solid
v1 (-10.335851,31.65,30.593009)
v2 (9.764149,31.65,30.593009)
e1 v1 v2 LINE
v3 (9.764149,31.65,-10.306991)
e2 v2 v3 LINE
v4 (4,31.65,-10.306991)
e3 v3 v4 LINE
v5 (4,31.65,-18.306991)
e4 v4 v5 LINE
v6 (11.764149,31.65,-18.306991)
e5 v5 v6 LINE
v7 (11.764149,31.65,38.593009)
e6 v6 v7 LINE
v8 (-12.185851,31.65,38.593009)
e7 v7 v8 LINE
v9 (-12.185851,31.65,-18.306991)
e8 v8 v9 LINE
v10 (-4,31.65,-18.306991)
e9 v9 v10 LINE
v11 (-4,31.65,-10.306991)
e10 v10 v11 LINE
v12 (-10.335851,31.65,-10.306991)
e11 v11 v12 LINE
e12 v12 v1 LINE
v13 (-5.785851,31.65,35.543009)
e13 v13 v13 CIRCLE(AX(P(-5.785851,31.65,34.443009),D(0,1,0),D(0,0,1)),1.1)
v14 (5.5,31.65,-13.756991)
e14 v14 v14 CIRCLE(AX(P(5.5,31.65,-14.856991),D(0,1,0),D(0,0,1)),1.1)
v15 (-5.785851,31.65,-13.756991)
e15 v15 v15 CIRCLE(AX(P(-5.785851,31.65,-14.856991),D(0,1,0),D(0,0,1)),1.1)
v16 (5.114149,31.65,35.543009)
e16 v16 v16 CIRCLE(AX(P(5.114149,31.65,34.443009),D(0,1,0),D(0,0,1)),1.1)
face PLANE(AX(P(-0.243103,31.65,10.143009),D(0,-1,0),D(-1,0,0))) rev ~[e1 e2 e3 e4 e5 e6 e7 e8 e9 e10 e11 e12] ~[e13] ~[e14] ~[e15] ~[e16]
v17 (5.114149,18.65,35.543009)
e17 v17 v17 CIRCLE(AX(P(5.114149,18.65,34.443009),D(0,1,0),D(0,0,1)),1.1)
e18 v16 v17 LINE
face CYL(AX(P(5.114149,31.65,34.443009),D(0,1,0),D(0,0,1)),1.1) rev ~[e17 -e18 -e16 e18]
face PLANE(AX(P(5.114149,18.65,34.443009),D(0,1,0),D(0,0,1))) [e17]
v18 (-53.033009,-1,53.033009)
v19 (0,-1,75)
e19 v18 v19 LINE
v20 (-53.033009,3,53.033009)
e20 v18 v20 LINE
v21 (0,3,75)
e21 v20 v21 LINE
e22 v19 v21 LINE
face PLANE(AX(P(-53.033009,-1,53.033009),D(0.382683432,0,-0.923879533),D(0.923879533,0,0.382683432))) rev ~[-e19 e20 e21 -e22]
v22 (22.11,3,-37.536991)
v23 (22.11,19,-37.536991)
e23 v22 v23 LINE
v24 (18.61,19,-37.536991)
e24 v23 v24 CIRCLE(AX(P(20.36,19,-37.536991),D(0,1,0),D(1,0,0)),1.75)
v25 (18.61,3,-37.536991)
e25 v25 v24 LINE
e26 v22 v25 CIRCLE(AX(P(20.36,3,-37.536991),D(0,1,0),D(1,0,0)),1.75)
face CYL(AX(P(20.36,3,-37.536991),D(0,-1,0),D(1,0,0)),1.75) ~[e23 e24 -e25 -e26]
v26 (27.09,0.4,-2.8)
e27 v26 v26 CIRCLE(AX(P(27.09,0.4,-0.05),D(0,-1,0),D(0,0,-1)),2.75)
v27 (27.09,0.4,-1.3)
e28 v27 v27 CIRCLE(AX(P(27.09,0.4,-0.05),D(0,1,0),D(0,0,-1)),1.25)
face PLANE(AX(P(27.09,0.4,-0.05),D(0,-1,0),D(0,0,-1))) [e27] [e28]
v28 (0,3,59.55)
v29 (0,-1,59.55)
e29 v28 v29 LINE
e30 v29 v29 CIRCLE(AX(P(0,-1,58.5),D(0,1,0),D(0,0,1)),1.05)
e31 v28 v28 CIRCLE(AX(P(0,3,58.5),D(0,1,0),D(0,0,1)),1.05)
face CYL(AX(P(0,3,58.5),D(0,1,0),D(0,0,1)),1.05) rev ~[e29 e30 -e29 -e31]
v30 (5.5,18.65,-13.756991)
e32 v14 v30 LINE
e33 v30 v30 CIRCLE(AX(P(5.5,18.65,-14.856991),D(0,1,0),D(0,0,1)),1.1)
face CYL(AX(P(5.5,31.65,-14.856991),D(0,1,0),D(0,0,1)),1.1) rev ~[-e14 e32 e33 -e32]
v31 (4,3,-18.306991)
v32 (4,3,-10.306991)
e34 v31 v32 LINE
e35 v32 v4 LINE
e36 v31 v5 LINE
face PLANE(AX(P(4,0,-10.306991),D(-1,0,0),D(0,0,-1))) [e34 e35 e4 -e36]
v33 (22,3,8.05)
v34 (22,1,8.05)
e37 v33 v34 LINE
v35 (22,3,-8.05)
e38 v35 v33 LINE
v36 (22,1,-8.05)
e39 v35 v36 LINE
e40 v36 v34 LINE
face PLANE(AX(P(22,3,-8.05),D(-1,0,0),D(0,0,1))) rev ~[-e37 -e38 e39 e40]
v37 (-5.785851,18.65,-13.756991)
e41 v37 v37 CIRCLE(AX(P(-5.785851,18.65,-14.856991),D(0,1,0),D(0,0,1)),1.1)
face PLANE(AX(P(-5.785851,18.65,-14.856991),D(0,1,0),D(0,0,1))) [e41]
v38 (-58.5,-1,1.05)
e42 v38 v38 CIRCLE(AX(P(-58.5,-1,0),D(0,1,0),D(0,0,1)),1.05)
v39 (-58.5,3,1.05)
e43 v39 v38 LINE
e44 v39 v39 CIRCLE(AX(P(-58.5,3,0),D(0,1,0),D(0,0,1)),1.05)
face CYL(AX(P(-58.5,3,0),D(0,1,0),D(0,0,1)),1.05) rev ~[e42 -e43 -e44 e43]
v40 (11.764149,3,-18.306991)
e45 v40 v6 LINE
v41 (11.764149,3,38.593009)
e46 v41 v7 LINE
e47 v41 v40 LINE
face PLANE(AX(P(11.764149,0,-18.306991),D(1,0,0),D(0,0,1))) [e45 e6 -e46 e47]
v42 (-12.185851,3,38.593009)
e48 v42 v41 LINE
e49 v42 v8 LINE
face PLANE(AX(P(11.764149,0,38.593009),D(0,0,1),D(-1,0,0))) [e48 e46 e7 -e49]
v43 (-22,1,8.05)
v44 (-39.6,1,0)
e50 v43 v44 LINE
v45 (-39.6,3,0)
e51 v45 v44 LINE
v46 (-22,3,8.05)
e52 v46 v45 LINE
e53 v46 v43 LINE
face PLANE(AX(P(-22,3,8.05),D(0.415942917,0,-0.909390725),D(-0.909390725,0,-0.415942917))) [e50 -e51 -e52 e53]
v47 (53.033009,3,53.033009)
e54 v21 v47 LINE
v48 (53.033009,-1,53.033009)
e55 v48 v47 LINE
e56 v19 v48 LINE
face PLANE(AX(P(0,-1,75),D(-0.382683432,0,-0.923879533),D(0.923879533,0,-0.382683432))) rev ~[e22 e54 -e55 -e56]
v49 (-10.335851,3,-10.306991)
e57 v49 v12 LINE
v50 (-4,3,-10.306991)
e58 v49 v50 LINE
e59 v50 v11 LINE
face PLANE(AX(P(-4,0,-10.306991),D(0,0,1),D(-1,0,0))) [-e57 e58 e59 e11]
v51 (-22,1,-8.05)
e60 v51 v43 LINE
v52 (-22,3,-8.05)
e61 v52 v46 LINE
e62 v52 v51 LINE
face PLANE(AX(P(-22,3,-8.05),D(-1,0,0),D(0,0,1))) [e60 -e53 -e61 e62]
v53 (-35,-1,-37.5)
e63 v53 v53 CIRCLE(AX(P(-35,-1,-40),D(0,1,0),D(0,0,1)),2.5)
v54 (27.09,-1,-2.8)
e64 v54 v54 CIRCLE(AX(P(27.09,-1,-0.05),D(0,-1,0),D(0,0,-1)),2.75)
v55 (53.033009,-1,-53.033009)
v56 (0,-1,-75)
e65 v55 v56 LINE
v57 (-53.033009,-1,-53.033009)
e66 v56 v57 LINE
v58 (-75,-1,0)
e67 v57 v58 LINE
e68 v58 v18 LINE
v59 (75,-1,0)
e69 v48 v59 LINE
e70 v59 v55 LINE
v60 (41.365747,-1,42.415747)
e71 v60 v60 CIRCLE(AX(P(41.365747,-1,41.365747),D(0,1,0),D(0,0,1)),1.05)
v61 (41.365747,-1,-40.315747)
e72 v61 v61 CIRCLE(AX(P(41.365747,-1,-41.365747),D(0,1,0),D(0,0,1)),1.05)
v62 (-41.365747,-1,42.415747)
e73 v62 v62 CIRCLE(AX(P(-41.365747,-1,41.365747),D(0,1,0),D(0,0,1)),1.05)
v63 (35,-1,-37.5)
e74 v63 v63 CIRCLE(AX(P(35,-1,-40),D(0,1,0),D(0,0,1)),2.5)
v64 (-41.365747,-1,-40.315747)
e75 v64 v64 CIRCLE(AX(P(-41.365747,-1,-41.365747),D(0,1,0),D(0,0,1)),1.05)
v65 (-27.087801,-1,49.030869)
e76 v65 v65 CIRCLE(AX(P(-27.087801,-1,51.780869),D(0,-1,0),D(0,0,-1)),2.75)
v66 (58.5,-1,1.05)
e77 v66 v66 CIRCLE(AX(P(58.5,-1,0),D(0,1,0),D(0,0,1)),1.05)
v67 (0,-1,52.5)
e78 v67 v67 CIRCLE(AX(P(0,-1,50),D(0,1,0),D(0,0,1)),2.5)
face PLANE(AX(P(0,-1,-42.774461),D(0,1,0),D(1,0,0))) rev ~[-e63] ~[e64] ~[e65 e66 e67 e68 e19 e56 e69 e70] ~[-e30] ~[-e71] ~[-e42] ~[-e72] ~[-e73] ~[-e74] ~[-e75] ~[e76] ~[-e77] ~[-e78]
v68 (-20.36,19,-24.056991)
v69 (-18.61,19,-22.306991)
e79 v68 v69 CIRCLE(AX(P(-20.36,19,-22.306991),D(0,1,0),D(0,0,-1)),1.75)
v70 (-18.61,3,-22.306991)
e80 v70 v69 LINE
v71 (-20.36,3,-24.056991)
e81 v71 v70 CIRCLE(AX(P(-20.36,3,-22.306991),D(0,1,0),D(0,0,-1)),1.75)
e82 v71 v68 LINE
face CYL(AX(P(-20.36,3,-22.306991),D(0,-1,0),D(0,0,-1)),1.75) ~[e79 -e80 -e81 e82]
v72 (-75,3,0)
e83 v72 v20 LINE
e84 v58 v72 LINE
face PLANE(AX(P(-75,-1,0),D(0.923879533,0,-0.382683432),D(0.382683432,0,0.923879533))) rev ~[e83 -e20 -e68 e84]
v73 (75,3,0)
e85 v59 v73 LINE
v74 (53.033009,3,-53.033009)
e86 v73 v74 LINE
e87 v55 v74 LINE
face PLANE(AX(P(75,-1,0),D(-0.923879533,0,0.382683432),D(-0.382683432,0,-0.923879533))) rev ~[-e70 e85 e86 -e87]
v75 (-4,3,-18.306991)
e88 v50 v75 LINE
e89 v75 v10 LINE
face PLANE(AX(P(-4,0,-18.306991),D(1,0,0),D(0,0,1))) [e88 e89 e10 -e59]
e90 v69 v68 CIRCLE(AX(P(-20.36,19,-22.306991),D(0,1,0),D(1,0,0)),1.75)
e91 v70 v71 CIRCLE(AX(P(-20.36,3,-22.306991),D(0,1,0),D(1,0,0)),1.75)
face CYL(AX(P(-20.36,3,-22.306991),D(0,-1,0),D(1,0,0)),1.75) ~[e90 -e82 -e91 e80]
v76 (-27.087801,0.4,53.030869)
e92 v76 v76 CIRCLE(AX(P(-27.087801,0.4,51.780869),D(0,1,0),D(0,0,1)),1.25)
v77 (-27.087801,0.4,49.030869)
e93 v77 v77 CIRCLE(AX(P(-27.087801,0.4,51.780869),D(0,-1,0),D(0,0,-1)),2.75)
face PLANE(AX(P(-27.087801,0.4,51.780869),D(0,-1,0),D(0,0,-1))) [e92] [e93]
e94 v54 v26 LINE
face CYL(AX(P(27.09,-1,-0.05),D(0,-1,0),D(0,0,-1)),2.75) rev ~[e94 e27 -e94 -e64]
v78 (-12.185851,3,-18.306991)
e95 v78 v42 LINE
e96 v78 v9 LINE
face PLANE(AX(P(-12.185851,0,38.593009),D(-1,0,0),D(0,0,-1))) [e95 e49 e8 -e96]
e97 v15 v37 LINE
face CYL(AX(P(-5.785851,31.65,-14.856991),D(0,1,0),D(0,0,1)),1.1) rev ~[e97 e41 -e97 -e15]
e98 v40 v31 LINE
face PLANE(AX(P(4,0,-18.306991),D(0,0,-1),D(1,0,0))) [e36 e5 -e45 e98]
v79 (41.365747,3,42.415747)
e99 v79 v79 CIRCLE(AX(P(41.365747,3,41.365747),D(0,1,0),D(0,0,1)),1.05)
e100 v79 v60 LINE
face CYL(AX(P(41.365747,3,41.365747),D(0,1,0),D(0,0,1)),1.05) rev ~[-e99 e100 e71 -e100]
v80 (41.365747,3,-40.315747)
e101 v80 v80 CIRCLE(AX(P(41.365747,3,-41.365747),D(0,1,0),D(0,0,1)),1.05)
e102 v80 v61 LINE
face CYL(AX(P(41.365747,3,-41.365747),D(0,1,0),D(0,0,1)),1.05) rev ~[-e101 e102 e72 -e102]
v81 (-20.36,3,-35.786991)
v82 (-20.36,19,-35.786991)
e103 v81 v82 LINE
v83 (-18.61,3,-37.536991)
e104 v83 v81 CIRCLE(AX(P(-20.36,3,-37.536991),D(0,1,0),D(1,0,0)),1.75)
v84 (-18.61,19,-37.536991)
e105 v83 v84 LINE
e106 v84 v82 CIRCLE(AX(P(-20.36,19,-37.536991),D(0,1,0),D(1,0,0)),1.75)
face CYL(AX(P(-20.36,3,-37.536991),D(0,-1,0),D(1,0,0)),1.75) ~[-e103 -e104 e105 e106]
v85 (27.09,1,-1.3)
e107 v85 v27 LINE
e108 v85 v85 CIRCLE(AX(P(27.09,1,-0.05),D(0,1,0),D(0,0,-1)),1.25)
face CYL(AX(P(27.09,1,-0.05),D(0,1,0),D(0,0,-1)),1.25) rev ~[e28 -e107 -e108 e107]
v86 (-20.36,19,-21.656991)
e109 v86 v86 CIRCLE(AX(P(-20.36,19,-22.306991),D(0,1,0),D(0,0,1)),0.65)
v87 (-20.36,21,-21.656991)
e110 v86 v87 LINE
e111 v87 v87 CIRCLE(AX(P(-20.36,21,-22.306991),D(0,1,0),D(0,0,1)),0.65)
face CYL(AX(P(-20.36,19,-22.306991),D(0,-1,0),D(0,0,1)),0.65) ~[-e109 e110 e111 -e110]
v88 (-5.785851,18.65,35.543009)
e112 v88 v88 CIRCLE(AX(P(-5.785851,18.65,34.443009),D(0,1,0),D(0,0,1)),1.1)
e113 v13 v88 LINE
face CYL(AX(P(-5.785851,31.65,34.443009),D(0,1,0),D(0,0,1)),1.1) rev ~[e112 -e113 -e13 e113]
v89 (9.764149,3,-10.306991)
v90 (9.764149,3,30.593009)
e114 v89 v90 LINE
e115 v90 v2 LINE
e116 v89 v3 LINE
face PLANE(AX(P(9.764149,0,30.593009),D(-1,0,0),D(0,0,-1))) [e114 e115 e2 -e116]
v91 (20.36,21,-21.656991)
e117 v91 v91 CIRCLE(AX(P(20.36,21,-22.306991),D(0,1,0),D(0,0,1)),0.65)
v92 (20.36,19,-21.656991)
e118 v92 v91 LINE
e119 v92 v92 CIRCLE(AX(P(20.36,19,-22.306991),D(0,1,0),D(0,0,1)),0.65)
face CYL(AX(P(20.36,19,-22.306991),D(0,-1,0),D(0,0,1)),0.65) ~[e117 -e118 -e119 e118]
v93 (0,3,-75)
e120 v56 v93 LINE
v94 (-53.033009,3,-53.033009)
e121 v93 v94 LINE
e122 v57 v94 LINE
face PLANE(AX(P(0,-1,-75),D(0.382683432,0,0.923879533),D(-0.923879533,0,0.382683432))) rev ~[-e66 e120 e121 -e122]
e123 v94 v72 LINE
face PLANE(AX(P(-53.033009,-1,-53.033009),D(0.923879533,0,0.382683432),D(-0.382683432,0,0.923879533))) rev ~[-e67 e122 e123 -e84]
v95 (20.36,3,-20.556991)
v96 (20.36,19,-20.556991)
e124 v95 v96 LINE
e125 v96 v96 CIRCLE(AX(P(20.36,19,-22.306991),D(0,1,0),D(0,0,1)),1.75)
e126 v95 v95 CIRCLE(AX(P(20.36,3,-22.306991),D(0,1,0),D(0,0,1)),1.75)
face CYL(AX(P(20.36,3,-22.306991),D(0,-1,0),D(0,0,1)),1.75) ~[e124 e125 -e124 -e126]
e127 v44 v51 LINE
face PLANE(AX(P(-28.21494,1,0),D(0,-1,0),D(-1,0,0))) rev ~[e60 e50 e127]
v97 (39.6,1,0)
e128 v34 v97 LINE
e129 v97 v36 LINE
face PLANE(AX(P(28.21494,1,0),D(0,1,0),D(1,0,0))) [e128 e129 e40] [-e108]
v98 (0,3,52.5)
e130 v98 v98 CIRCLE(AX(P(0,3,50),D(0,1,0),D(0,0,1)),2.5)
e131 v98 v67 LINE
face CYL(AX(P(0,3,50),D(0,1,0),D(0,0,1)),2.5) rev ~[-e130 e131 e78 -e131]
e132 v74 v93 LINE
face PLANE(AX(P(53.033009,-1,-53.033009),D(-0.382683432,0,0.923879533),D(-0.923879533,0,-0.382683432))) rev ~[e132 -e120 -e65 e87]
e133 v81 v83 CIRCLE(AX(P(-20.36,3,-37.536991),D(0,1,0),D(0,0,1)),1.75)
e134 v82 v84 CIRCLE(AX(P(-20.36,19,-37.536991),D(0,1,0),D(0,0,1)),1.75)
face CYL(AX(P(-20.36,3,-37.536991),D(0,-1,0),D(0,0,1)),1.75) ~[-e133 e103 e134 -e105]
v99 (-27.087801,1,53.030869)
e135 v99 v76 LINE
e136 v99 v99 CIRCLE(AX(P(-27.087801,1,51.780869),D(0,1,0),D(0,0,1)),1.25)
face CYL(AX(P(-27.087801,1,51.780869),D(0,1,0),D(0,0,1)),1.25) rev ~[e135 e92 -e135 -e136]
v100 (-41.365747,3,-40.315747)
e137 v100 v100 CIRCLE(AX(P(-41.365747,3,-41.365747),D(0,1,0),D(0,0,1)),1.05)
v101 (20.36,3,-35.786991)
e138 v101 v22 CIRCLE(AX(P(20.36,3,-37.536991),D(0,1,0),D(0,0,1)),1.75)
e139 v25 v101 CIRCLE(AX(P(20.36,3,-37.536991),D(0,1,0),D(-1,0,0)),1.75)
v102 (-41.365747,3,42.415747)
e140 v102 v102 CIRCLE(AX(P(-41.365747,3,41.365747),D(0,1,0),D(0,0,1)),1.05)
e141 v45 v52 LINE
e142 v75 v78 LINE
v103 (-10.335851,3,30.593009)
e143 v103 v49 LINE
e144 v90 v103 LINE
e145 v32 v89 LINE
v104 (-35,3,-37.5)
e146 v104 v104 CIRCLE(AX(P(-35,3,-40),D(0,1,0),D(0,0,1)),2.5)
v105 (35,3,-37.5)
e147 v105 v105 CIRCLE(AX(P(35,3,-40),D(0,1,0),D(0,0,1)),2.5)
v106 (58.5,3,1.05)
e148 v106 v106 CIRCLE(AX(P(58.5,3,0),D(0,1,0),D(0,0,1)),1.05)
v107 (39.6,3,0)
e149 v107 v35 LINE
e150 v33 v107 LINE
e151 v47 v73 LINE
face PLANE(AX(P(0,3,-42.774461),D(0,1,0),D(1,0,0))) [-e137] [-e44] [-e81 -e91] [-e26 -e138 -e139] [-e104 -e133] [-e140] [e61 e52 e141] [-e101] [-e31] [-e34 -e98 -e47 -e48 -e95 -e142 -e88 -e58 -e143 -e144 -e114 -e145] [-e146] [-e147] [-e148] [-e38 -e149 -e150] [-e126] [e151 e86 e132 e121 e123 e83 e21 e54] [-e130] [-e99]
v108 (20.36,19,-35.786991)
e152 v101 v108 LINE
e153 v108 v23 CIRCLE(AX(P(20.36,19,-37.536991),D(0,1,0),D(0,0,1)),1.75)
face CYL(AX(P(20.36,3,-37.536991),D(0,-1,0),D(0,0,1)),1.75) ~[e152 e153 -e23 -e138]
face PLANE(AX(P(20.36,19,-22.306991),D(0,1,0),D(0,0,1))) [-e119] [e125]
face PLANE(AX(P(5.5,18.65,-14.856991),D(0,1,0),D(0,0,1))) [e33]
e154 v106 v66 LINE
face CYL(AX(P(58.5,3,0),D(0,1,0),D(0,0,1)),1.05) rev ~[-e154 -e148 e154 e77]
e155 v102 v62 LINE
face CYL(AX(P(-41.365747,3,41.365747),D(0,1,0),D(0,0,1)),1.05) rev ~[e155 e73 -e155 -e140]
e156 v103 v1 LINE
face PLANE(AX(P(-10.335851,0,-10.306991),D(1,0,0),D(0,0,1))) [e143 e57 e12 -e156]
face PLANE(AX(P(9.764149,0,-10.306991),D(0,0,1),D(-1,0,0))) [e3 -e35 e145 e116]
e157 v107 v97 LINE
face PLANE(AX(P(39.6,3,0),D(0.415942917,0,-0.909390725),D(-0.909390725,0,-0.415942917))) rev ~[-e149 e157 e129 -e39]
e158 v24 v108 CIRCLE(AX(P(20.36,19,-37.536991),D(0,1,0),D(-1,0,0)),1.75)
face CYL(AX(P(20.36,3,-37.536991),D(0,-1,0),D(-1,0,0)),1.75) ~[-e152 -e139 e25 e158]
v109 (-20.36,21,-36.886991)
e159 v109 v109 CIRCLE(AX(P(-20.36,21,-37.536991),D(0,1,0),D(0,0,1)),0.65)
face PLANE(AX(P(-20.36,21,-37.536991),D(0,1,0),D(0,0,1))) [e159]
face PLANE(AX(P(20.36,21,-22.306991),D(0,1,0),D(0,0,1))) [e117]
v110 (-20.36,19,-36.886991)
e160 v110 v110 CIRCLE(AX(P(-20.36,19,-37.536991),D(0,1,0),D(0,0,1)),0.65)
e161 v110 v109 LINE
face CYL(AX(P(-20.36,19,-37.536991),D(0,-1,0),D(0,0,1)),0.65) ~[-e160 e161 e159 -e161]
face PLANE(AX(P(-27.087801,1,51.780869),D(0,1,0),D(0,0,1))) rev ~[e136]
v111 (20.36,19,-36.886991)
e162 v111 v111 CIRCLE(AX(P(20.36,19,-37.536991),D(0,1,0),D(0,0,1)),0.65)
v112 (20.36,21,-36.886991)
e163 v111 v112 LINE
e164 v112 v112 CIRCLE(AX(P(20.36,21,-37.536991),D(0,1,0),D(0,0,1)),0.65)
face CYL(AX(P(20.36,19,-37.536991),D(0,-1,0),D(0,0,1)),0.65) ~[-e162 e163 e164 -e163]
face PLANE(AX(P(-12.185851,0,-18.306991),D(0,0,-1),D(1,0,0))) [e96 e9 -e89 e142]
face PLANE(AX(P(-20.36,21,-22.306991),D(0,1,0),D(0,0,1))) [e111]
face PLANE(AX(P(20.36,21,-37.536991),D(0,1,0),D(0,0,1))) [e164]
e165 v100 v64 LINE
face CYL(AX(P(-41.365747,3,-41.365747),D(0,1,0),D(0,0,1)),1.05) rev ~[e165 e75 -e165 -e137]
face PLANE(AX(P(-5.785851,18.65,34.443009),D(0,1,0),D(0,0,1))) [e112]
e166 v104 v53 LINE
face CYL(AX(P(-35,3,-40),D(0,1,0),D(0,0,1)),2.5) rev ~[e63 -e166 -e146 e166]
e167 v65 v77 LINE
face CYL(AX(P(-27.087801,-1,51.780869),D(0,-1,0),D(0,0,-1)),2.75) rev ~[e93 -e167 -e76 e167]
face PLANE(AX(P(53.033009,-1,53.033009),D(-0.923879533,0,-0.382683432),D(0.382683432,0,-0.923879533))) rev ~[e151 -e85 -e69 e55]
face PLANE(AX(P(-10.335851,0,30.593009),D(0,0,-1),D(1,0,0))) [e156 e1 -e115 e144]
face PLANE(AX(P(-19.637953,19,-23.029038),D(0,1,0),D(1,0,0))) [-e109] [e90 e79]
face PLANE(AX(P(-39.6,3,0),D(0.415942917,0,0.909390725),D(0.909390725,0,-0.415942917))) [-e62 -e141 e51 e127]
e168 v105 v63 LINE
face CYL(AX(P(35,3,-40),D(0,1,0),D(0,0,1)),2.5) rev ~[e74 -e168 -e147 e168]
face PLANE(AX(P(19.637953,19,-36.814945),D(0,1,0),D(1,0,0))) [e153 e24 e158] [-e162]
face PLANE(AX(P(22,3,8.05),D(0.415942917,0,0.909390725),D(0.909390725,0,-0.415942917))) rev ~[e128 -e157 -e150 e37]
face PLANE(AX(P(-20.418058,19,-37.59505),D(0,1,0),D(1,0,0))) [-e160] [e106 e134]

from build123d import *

# Parameters (mm, degrees)
AUFSATZ_LINEAR_AUSTRAGEN1_DEPTH      = 3
AUFSATZ_LINEAR_AUSTRAGEN1_DEPTH_BACK = 1
AUFSATZ_LINEAR_AUSTRAGEN3_DEPTH      = 31.65
SKIZZE7_R                            = 2.5
SCHNITT_LINEAR_AUSTRAGEN2_DEPTH      = 110.867294952
SCHNITT_LINEAR_AUSTRAGEN6_DEPTH      = 2
SKIZZE10_R                           = 1.25
SCHNITT_LINEAR_AUSTRAGEN7_DEPTH      = 111.405717696
SKIZZE11_R                           = 2.75
SCHNITT_LINEAR_AUSTRAGEN8_DEPTH      = 1.4
SKIZZE14_R                           = 1.05
SCHNITT_LINEAR_AUSTRAGEN9_DEPTH      = 10
SKIZZE15_R                           = 1.75
AUFSATZ_LINEAR_AUSTRAGEN4_DEPTH      = 16
SKIZZE16_R                           = 0.65
AUFSATZ_LINEAR_AUSTRAGEN5_DEPTH      = 2
SKIZZE18_R                           = 1.1
SCHNITT_LINEAR_AUSTRAGEN10_DEPTH     = 13


with BuildPart() as part:
    # Skizze2 → Aufsatz-Linear austragen1 (new, two sides: drawn at the far end of the back side and taken through both)
    with BuildSketch(Plane(origin=(0, 0, 0), x_dir=(1, 0, 0), z_dir=(0, 1, 0)).offset(-AUFSATZ_LINEAR_AUSTRAGEN1_DEPTH_BACK)):
        Polygon((-53.033008589, 53.033008589), (0, 0), (53.033008589, 53.033008589), (0, 75), align=None)
        Polygon((53.033008589, 53.033008589), (0, 0), (75, 0), align=None)
        Polygon((75, 0), (0, 0), (53.033008589, -53.033008589), align=None)
        Polygon((53.033008589, -53.033008589), (0, 0), (-53.033008589, -53.033008589), (0, -75), align=None)
        Polygon((-53.033008589, 53.033008589), (-75, 0), (0, 0), align=None)
        Polygon((0, 0), (-75, 0), (-53.033008589, -53.033008589), align=None)
    extrude(amount=AUFSATZ_LINEAR_AUSTRAGEN1_DEPTH + AUFSATZ_LINEAR_AUSTRAGEN1_DEPTH_BACK)

    # Skizze5 → Aufsatz-Linear austragen3 (add)
    with BuildSketch(Plane(origin=(0, 0, 0), x_dir=(1, 0, 0), z_dir=(0, 1, 0))):
        Polygon((-4, 18.306991411), (-4, 10.306991411), (-10.335850601, 10.306991411), (-10.335850601, -30.593008589), (9.764149399, -30.593008589), (9.764149399, 10.306991411), (4, 10.306991411), (4, 18.306991411), (11.764149399, 18.306991411), (11.764149399, -38.593008589), (-12.185850601, -38.593008589), (-12.185850601, 18.306991411), align=None)
    extrude(amount=AUFSATZ_LINEAR_AUSTRAGEN3_DEPTH)

    # Skizze7 → Schnitt-Linear austragen2 (cut, through all)
    with BuildSketch(Plane(origin=(0, 3, 0), x_dir=(1, 0, 0), z_dir=(0, 1, 0))):
        with Locations(Location((35, 40, 0), (0, 0, 270))):
            Circle(SKIZZE7_R)
        with Locations(Location((-35, 40, 0), (0, 0, 270))):
            Circle(SKIZZE7_R)
        with Locations(Location((0, -50, 0), (0, 0, 270))):
            Circle(SKIZZE7_R)
    extrude(amount=-SCHNITT_LINEAR_AUSTRAGEN2_DEPTH, mode=Mode.SUBTRACT)

    # Skizze8 → Schnitt-Linear austragen6 (cut)
    with BuildSketch(Plane(origin=(0, 3, 0), x_dir=(1, 0, 0), z_dir=(0, 1, 0))):
        Polygon((-22, 8.05), (-22, -8.05), (-39.6, 0), align=None)
        Polygon((22, -8.05), (39.6, 0), (22, 8.05), align=None)
    extrude(amount=-SCHNITT_LINEAR_AUSTRAGEN6_DEPTH, mode=Mode.SUBTRACT)

    # Skizze10 → Schnitt-Linear austragen7 (cut, through all)
    with BuildSketch(Plane(origin=(0, 1, 0), x_dir=(1, 0, 0), z_dir=(0, 1, 0))):
        with Locations(Location((-27.087800905, -51.780869351, 0), (0, 0, 270))):
            Circle(SKIZZE10_R)
        with Locations(Location((27.09, 0.05, 0), (0, 0, 90))):
            Circle(SKIZZE10_R)
    extrude(amount=-SCHNITT_LINEAR_AUSTRAGEN7_DEPTH, mode=Mode.SUBTRACT)

    # Skizze11 → Schnitt-Linear austragen8 (cut)
    with BuildSketch(Plane.XZ.offset(1)):
        with Locations(Location((-27.087800905, 51.780869351, 0), (0, 0, 270))):
            Circle(SKIZZE11_R)
        with Locations(Location((27.09, -0.05, 0), (0, 0, 270))):
            Circle(SKIZZE11_R)
    extrude(amount=-SCHNITT_LINEAR_AUSTRAGEN8_DEPTH, mode=Mode.SUBTRACT)

    # Skizze14 → Schnitt-Linear austragen9 (cut)
    with BuildSketch(Plane(origin=(0, 3, 0), x_dir=(1, 0, 0), z_dir=(0, 1, 0))):
        with Locations(Location((-58.5, 0, 0), (0, 0, 270))):
            Circle(SKIZZE14_R)
        with Locations(Location((-41.365746699, 41.365746699, 0), (0, 0, 270))):
            Circle(SKIZZE14_R)
        with Locations(Location((41.365746699, 41.365746699, 0), (0, 0, 270))):
            Circle(SKIZZE14_R)
        with Locations(Location((58.5, 0, 0), (0, 0, 270))):
            Circle(SKIZZE14_R)
        with Locations(Location((41.365746699, -41.365746699, 0), (0, 0, 270))):
            Circle(SKIZZE14_R)
        with Locations(Location((-41.365746699, -41.365746699, 0), (0, 0, 270))):
            Circle(SKIZZE14_R)
        with Locations(Location((0, -58.5, 0), (0, 0, 270))):
            Circle(SKIZZE14_R)
    extrude(amount=-SCHNITT_LINEAR_AUSTRAGEN9_DEPTH, mode=Mode.SUBTRACT)

    # Skizze15 → Aufsatz-Linear austragen4 (add)
    with BuildSketch(Plane(origin=(0, 3, 0), x_dir=(1, 0, 0), z_dir=(0, 1, 0))):
        with BuildLine():
            ThreePointArc((18.61, 37.536991411), (19.122563133, 36.299554544), (20.36, 35.786991411))
            Line((20.36, 35.786991411), (20.36, 37.536991411))
            Line((20.36, 37.536991411), (18.61, 37.536991411))
        make_face()
        with BuildLine():
            Line((20.36, 37.536991411), (20.36, 35.786991411))
            ThreePointArc((20.36, 35.786991411), (21.597436867, 36.299554544), (22.11, 37.536991411))
            ThreePointArc((22.11, 37.536991411), (20.36, 39.286991411), (18.61, 37.536991411))
            Line((18.61, 37.536991411), (20.36, 37.536991411))
        make_face()
        with BuildLine():
            Line((-20.36, 24.056991411), (-20.36, 22.306991411))
            Line((-20.36, 22.306991411), (-18.61, 22.306991411))
            ThreePointArc((-18.61, 22.306991411), (-19.122563133, 23.544428278), (-20.36, 24.056991411))
        make_face()
        with BuildLine():
            Line((-18.61, 22.306991411), (-20.36, 22.306991411))
            Line((-20.36, 22.306991411), (-20.36, 24.056991411))
            ThreePointArc((-20.36, 24.056991411), (-21.597436867, 21.069554544), (-18.61, 22.306991411))
        make_face()
        with BuildLine():
            ThreePointArc((-18.61, 37.536991411), (-21.597436867, 38.774428278), (-20.36, 35.786991411))
            Line((-20.36, 35.786991411), (-20.36, 37.536991411))
            Line((-20.36, 37.536991411), (-18.61, 37.536991411))
        make_face()
        with BuildLine():
            Line((-20.36, 37.536991411), (-20.36, 35.786991411))
            ThreePointArc((-20.36, 35.786991411), (-19.122563133, 36.299554544), (-18.61, 37.536991411))
            Line((-18.61, 37.536991411), (-20.36, 37.536991411))
        make_face()
        with Locations(Location((20.36, 22.306991411, 0), (0, 0, 270))):
            Circle(SKIZZE15_R)
    extrude(amount=AUFSATZ_LINEAR_AUSTRAGEN4_DEPTH)

    # Skizze16 → Aufsatz-Linear austragen5 (add)
    with BuildSketch(Plane(origin=(0, 19, 0), x_dir=(1, 0, 0), z_dir=(0, 1, 0))):
        with Locations(Location((20.36, 22.306991411, 0), (0, 0, 270))):
            Circle(SKIZZE16_R)
        with Locations(Location((20.36, 37.536991411, 0), (0, 0, 270))):
            Circle(SKIZZE16_R)
        with Locations(Location((-20.36, 37.536991411, 0), (0, 0, 270))):
            Circle(SKIZZE16_R)
        with Locations(Location((-20.36, 22.306991411, 0), (0, 0, 270))):
            Circle(SKIZZE16_R)
    extrude(amount=AUFSATZ_LINEAR_AUSTRAGEN5_DEPTH)

    # Skizze18 → Schnitt-Linear austragen10 (cut)
    with BuildSketch(Plane(origin=(0, 31.65, 0), x_dir=(1, 0, 0), z_dir=(0, 1, 0))):
        with Locations(Location((-5.785850601, 14.856991411, 0), (0, 0, 270))):
            Circle(SKIZZE18_R)
        with Locations(Location((5.5, 14.856991411, 0), (0, 0, 270))):
            Circle(SKIZZE18_R)
        with Locations(Location((5.114149399, -34.443008589, 0), (0, 0, 270))):
            Circle(SKIZZE18_R)
        with Locations(Location((-5.785850601, -34.443008589, 0), (0, 0, 270))):
            Circle(SKIZZE18_R)
    extrude(amount=-SCHNITT_LINEAR_AUSTRAGEN10_DEPTH, mode=Mode.SUBTRACT)


solid = part.part
